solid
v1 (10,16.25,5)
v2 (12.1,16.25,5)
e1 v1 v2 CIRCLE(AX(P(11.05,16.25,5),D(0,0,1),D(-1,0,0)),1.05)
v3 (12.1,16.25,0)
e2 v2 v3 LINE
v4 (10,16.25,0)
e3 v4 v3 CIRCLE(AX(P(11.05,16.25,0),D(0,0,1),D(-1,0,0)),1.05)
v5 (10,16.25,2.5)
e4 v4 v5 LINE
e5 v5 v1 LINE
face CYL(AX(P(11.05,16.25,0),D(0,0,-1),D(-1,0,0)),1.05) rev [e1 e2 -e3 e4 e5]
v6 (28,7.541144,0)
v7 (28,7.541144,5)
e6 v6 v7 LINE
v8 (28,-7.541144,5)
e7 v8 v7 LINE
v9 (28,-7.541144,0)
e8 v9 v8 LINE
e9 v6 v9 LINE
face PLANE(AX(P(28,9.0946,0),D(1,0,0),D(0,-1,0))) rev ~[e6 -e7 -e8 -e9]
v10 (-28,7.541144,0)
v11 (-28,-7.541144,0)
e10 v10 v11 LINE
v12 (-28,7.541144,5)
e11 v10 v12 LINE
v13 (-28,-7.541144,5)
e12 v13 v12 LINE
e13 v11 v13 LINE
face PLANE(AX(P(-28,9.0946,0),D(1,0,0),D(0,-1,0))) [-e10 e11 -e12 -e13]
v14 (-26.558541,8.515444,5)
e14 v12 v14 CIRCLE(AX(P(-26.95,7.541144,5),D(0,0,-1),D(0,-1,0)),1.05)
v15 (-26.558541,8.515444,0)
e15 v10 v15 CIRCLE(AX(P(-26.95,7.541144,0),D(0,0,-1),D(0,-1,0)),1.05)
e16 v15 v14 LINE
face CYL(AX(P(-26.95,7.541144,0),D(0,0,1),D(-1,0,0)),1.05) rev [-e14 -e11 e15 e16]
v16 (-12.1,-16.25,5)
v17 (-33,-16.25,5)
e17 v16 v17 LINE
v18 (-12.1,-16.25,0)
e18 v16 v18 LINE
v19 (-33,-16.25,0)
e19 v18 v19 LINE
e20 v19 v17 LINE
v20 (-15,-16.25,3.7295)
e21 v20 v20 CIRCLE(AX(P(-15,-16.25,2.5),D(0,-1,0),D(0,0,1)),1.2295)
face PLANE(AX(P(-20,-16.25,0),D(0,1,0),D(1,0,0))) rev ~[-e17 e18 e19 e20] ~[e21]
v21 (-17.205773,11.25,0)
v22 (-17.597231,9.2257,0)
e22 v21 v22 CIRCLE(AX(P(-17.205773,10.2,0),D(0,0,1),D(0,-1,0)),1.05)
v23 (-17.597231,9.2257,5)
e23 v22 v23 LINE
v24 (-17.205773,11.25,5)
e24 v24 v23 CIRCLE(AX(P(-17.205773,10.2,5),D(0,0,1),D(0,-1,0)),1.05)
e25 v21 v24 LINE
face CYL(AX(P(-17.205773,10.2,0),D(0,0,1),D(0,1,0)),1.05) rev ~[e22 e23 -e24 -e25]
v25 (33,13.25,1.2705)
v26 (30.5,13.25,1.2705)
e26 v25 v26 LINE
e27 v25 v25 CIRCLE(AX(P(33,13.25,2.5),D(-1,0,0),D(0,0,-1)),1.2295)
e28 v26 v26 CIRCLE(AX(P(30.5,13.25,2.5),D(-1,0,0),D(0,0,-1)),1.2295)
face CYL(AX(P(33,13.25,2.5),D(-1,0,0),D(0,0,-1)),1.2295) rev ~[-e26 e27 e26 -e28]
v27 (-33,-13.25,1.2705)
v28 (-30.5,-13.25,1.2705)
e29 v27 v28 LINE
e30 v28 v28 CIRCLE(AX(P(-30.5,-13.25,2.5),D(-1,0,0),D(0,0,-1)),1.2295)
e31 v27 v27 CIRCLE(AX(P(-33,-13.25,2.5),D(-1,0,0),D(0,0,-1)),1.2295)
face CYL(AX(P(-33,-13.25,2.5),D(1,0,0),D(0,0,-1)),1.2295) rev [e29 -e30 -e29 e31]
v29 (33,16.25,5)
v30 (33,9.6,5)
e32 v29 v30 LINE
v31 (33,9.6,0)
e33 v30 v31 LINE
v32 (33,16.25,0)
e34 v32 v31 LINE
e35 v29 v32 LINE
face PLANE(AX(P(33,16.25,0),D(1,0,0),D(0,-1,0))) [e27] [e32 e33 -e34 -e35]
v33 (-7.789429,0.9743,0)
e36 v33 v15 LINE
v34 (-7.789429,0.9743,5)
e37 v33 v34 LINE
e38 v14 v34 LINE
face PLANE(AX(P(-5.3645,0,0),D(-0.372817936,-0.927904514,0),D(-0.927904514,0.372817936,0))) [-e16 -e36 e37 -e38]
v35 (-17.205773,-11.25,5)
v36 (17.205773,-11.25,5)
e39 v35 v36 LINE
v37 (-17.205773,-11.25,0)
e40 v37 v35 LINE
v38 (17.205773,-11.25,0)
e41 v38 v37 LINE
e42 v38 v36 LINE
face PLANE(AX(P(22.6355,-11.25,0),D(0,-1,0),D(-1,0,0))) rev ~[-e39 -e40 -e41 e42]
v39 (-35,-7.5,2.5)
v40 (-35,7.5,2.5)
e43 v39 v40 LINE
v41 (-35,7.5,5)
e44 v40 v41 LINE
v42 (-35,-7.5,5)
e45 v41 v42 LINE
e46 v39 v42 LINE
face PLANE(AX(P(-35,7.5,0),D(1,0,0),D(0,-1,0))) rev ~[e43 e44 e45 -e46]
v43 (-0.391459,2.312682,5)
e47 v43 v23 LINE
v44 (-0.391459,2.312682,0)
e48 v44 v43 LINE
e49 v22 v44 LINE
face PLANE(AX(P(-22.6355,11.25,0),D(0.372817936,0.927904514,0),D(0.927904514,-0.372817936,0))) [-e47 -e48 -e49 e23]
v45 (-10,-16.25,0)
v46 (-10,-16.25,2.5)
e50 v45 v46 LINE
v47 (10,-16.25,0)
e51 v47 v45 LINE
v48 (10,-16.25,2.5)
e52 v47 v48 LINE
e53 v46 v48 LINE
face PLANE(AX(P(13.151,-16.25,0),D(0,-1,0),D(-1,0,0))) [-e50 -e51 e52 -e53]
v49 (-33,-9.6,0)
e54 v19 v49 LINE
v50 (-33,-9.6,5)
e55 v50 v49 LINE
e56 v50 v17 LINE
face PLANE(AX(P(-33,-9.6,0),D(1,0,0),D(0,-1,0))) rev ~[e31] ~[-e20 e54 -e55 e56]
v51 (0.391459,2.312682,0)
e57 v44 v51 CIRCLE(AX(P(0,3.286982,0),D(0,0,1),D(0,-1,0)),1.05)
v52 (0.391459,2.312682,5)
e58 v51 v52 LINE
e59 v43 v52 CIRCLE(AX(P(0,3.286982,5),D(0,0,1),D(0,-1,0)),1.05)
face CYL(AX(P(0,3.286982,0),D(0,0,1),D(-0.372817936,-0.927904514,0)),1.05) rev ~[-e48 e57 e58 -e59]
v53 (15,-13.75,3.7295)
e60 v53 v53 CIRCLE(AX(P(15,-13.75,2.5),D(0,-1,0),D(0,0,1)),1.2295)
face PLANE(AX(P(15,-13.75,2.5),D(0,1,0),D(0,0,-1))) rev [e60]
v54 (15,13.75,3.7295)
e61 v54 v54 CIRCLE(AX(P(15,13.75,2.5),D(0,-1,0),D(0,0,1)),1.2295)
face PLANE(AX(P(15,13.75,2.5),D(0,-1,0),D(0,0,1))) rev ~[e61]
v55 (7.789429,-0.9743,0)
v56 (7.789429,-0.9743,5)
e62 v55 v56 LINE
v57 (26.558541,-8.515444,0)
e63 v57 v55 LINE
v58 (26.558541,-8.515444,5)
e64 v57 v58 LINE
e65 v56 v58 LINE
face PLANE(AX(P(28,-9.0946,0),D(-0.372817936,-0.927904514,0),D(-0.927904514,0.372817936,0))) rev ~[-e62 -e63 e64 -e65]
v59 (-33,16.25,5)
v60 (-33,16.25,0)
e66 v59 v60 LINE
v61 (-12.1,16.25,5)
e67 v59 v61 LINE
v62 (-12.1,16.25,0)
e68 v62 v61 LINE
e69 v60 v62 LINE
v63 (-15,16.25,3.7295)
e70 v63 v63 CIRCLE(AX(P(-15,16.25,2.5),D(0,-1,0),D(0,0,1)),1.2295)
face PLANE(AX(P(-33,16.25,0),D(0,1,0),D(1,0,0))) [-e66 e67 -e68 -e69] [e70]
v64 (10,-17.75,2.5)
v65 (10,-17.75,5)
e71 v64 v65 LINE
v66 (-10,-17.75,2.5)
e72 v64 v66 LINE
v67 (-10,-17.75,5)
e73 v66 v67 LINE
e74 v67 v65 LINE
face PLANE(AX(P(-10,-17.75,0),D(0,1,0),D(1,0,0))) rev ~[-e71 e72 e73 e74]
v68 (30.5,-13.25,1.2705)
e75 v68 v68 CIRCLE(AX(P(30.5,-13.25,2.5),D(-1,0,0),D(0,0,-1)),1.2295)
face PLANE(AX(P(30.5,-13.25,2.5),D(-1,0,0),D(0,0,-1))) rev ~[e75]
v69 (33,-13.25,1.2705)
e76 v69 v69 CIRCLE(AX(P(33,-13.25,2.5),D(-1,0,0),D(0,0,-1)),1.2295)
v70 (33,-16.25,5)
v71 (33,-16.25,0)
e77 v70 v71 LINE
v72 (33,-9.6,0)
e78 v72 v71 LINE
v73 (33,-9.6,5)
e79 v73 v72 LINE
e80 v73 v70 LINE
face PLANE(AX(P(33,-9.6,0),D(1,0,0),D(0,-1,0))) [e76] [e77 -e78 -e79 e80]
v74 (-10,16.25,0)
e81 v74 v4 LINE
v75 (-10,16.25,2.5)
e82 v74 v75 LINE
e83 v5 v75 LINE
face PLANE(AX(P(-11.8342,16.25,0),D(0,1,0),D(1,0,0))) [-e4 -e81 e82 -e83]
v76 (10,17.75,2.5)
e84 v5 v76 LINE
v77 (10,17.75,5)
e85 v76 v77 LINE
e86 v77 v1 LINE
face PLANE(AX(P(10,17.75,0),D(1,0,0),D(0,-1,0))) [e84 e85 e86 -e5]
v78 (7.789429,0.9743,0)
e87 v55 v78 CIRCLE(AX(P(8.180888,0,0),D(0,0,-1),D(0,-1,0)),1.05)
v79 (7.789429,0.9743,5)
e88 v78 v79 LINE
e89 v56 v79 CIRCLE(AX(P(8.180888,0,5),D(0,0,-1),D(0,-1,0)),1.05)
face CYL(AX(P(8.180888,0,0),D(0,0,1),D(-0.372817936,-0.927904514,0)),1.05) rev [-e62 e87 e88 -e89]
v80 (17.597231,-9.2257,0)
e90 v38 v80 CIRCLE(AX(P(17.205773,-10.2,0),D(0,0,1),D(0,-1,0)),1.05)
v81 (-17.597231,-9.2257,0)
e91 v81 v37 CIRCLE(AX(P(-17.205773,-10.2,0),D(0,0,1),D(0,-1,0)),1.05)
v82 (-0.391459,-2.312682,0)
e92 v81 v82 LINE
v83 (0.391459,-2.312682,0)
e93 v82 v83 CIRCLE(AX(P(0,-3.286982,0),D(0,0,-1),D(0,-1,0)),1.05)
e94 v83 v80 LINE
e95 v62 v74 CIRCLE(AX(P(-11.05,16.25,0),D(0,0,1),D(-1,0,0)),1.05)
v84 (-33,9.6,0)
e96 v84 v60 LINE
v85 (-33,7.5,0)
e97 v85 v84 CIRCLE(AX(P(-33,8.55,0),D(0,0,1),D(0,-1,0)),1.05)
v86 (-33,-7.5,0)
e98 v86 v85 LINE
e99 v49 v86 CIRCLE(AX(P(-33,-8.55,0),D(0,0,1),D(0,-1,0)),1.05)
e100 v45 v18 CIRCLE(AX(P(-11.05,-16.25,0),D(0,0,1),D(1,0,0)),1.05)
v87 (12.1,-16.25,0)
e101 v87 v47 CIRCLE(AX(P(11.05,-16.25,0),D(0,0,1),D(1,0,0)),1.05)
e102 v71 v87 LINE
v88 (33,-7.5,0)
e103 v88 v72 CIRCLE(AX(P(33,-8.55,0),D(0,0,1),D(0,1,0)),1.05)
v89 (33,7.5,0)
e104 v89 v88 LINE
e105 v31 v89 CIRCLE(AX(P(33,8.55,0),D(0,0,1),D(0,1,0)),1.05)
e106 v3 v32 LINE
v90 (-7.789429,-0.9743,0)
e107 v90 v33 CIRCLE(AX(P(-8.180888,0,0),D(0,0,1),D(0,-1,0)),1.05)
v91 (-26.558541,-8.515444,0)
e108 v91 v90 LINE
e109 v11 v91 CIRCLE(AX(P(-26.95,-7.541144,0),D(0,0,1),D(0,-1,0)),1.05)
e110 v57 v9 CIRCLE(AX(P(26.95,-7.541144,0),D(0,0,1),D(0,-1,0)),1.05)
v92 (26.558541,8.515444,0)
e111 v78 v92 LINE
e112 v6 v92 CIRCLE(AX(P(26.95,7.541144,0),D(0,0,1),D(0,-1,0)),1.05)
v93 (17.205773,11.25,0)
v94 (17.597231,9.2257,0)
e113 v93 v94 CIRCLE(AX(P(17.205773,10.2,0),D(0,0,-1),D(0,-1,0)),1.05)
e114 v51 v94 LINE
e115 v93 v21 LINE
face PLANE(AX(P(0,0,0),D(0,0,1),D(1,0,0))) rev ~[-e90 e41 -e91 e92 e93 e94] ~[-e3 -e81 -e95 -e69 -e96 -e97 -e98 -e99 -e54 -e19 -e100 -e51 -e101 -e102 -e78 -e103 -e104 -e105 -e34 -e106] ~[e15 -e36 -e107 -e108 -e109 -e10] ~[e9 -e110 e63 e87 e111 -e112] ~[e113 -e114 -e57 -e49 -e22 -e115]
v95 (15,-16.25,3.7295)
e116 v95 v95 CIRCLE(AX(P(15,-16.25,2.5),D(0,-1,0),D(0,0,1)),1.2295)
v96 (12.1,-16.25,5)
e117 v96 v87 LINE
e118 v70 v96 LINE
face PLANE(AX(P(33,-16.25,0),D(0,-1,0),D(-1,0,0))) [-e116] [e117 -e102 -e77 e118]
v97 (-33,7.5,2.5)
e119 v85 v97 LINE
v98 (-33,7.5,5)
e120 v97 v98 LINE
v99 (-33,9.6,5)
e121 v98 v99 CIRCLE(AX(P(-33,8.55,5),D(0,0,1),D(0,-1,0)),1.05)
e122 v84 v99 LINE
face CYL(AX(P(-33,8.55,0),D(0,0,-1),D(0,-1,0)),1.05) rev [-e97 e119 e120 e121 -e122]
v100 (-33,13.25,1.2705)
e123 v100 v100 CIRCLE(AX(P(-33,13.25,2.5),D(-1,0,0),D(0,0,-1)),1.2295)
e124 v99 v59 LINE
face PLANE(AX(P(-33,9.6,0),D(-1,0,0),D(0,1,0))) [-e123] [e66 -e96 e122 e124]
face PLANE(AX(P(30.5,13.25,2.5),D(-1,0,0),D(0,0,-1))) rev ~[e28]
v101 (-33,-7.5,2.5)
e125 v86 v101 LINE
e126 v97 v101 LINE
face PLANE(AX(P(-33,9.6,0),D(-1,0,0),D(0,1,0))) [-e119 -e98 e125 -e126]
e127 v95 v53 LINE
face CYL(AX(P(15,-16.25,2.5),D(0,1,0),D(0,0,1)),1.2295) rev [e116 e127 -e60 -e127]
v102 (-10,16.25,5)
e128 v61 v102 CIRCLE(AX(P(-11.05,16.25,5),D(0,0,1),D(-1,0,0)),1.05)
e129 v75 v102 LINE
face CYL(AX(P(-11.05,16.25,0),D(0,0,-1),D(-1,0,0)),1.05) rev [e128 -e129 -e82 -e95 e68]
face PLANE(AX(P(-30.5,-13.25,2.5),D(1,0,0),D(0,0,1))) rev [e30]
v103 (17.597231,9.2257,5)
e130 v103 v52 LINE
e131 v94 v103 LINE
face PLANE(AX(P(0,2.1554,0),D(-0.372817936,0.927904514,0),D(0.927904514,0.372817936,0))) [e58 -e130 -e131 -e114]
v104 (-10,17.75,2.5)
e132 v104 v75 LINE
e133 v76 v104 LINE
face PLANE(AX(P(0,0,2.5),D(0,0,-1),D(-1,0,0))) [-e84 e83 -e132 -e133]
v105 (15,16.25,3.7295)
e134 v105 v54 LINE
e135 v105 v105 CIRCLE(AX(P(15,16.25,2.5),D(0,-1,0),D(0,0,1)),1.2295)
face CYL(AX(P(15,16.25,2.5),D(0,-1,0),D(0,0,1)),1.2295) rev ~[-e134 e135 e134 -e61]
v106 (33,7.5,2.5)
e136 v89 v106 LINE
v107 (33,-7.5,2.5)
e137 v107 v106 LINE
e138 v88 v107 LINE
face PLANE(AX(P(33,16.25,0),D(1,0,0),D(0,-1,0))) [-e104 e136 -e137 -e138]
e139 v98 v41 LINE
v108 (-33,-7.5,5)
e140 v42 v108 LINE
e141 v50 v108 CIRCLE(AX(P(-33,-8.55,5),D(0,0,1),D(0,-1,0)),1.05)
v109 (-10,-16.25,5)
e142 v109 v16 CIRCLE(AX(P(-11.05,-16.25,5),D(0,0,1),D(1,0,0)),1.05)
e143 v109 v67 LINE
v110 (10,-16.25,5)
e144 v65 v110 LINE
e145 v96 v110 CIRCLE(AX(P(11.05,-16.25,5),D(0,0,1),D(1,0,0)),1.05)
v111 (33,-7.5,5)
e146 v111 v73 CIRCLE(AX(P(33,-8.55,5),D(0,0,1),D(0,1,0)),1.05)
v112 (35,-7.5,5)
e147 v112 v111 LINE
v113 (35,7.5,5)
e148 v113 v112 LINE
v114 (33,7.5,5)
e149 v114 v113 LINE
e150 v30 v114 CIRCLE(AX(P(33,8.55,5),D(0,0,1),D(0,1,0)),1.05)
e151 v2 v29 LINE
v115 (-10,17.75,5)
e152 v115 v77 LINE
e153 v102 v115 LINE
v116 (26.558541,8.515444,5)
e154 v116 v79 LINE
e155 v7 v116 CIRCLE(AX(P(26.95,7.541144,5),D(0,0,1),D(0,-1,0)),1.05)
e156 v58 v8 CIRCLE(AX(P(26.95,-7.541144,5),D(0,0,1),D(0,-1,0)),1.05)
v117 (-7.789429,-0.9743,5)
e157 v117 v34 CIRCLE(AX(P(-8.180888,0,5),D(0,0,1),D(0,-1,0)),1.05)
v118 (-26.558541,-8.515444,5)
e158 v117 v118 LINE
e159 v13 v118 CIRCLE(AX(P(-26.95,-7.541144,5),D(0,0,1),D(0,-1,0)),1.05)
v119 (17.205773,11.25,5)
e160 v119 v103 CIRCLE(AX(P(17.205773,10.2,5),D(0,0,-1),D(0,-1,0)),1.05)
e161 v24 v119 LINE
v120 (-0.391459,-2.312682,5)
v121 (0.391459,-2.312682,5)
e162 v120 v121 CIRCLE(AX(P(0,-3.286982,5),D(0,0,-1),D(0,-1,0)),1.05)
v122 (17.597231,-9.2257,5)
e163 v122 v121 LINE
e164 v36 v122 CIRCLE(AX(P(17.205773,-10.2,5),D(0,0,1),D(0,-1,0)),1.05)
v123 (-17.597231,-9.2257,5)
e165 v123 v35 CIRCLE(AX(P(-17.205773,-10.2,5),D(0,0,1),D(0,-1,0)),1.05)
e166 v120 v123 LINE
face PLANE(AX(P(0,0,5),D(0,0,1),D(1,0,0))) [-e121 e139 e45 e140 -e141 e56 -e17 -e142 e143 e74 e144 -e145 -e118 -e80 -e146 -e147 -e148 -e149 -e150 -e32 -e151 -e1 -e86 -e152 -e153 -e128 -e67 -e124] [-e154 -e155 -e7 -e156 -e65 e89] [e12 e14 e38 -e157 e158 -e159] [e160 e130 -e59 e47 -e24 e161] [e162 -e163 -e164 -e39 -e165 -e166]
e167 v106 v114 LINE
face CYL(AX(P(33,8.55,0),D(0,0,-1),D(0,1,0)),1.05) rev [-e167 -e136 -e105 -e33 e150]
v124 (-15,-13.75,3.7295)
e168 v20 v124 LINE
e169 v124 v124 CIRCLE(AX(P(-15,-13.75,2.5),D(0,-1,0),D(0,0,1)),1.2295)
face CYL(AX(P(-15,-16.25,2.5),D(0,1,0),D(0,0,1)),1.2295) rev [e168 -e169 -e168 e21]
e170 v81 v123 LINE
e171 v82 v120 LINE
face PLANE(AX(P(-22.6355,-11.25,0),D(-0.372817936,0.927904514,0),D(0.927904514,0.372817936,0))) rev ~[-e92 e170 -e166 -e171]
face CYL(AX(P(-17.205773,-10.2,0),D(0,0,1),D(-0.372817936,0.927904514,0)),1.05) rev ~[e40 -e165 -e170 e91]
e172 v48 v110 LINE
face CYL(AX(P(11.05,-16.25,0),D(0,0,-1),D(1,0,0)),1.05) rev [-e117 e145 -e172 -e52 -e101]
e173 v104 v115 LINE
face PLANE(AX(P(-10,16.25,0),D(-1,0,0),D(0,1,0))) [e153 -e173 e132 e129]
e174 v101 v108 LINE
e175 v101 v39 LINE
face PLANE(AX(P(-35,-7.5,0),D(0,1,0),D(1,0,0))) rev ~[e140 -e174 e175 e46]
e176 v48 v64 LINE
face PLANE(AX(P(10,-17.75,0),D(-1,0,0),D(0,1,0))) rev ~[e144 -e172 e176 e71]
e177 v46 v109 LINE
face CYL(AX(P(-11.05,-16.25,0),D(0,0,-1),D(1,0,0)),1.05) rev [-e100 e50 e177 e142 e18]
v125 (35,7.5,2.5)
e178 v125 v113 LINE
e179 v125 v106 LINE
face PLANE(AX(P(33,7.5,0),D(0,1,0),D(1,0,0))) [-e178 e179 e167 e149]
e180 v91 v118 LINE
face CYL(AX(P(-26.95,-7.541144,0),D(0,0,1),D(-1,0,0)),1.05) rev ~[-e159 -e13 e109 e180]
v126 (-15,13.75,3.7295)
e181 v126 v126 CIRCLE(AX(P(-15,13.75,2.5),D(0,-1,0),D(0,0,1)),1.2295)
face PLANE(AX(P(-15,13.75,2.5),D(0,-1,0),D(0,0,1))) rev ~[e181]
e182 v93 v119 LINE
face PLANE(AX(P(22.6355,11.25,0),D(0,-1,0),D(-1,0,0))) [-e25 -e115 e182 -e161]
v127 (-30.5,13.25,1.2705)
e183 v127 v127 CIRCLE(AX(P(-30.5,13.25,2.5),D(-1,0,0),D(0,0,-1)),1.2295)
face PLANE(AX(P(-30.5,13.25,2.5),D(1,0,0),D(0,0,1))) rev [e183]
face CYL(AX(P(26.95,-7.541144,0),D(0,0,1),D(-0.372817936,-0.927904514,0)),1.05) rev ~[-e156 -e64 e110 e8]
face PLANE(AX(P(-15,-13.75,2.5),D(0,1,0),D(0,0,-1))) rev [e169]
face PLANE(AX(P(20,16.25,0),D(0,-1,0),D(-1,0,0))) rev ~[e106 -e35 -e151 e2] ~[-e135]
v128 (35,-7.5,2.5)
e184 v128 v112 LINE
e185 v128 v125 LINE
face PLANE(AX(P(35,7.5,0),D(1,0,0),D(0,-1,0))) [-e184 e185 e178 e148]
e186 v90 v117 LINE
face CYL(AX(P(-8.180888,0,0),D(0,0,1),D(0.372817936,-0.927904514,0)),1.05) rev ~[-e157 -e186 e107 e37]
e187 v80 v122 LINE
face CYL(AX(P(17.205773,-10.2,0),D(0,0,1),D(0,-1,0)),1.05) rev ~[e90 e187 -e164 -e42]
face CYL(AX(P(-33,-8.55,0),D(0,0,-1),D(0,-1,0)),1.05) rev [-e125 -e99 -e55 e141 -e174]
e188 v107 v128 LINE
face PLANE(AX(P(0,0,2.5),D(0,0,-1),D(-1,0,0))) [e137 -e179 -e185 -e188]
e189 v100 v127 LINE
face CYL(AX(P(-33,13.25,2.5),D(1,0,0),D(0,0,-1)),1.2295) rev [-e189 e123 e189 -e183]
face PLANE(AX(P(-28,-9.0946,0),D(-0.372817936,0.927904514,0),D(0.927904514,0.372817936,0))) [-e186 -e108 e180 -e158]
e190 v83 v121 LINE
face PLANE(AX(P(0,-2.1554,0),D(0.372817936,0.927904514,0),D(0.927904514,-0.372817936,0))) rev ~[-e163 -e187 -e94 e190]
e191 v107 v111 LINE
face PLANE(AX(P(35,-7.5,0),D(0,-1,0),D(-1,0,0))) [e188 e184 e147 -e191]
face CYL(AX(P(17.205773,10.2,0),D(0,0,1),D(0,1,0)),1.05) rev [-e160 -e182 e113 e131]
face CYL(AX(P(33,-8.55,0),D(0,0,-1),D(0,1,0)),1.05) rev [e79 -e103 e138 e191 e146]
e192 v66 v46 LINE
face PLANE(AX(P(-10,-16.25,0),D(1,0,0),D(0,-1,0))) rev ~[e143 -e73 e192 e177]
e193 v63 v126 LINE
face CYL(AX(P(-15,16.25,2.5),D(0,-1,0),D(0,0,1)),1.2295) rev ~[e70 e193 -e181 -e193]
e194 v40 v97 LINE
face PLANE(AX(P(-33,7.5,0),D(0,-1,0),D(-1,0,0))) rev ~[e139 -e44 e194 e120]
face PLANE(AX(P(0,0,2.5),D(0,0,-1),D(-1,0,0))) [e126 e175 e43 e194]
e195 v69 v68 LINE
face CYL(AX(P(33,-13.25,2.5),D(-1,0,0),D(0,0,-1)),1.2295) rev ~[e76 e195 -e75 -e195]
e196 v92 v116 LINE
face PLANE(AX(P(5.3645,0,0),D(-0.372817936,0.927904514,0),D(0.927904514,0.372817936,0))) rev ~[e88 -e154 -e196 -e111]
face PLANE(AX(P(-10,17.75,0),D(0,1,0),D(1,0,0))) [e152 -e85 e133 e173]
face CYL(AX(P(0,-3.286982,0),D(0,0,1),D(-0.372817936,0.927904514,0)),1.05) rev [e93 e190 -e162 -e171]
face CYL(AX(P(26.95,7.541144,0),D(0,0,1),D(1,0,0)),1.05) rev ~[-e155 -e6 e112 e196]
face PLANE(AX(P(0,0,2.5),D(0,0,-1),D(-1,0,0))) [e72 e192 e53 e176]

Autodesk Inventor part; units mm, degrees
ref_plane "YZ Plane" through (0, 0, 0) normal (1, 0, 0) x (0, 1, 0)
ref_plane "XZ Plane" through (0, 0, 0) normal (0, 1, 0) x (-1, 0, 0)
ref_plane "XY Plane" through (0, 0, 0) normal (0, 0, 1) x (1, 0, 0)
sketch "スケッチ1" plane through (0, 0, 0) normal (0, 0, 1) x (1, 0, 0)
  line L0 (-33, 9.6) -> (-33, 16.25)
  line L1 (-33, 16.25) -> (-20, 16.25)
  line L2 (20, 16.25) -> (33, 16.25)
  line L3 (33, 16.25) -> (33, 9.6)
  line L4 (0, 0) -> (0, 16.25) construction
  line L5 (0, 0) -> (35, 0) construction
  line L6 (33, 7.5) -> (35, 7.5)
  line L7 (35, 7.5) -> (35, -7.5)
  line L8 (35, -7.5) -> (33, -7.5)
  line L9 (-20, -16.25) -> (20, -16.25) construction
  line L10 (20, -16.25) -> (20, 16.25) construction
  line L11 (20, 16.25) -> (-20, 16.25) construction
  line L12 (-20, 16.25) -> (-20, -16.25) construction
  line L13 (-20, -16.25) -> (20, 16.25) construction
  line L14 (20, -16.25) -> (-20, 16.25) construction
  line L15 (-33, -16.25) -> (33, -16.25) construction
  line L16 (33, -16.25) -> (33, 16.25) construction
  line L17 (33, 16.25) -> (-33, 16.25) construction
  line L18 (-33, 16.25) -> (-33, -16.25) construction
  line L19 (-33, -16.25) -> (33, 16.25) construction
  line L20 (33, -16.25) -> (-33, 16.25) construction
  arc A0 (33, 9.6) -> (33, 7.5) centre (33, 8.55) ccw
  arc A1 (33, -7.5) -> (33, -9.6) centre (33, -8.55) ccw
  line L21 (33, -9.6) -> (33, -16.25)
  line L22 (33, -16.25) -> (20, -16.25)
  line L23 (20, -16.25) -> (12.1, -16.25)
  line L24 (-20, 16.25) -> (-12.1, 16.25)
  line L25 (-10, 16.25) -> (-10, 17.75)
  line L26 (-10, 17.75) -> (10, 17.75)
  line L27 (10, 17.75) -> (10, 16.25)
  line L28 (20, 16.25) -> (12.1, 16.25)
  arc A2 (-12.1, 16.25) -> (-10, 16.25) centre (-11.05, 16.25) ccw
  arc A3 (10, 16.25) -> (12.1, 16.25) centre (11.05, 16.25) ccw
  line L29 (-33, 7.5) -> (-35, 7.5)
  line L30 (-35, 7.5) -> (-35, -7.5)
  line L31 (-35, -7.5) -> (-33, -7.5)
  arc A4 (-33, 7.5) -> (-33, 9.6) centre (-33, 8.55) ccw
  arc A5 (-33, -9.6) -> (-33, -7.5) centre (-33, -8.55) ccw
  line L32 (-33, -9.6) -> (-33, -16.25)
  line L33 (-33, -16.25) -> (-20, -16.25)
  line L34 (-20, -16.25) -> (-12.1, -16.25)
  line L35 (-10, -16.25) -> (-10, -17.75)
  line L36 (-10, -17.75) -> (10, -17.75)
  line L37 (10, -17.75) -> (10, -16.25)
  arc A6 (-10, -16.25) -> (-12.1, -16.25) centre (-11.05, -16.25) ccw
  arc A7 (12.1, -16.25) -> (10, -16.25) centre (11.05, -16.25) ccw
  line L38 (-16.55, 19.1799) -> (-13.45, 19.1799) construction
  line L39 (-13.45, 19.1799) -> (-13.45, 12.4242) construction
  line L40 (-13.45, 12.4242) -> (-16.55, 12.4242) construction
  line L41 (-16.55, 12.4242) -> (-16.55, 19.1799) construction
  line L42 (-15, 19.1799) -> (-15, 12.4242) construction
  point P0 (0, 17.75)
  point P1 (0, 0)
  dimension "d0" = 1.05
  dimension "d1" = 32.5
  dimension "d2" = 66
  dimension "d3" = 40
  dimension "d23" = 2
  dimension "d30" = 1.5
  dimension "d34" = 8.75
  dimension "d53" = 20
  dimension "d54" = 3.1
  dimension "d55" = 5
  dimension "d85" = 32.5
extrude "押し出し1" add sketch "スケッチ1" along normal blind 5
sketch "スケッチ2" plane through (0, 0, 0) normal (0, 0, -1) x (-1, 0, 0)
  line L0 (33, 9.6) -> (33, 16.25) projected
  line L1 (-33, 16.25) -> (-33, 9.6) projected
  line L2 (-41.1427, 17.3125) -> (-33, 17.3125)
  line L3 (-33, 17.3125) -> (-33, -16.751)
  line L4 (-33, -16.751) -> (-41.1427, -16.751)
  line L5 (-41.1427, -16.751) -> (-41.1427, 17.3125)
  line L6 (33, 21.1805) -> (38.858, 21.1805)
  line L7 (38.858, 21.1805) -> (38.858, -13.6193)
  line L8 (38.858, -13.6193) -> (33, -13.6193)
  line L9 (33, -13.6193) -> (33, 21.1805)
  line L10 (-20, -16.25) -> (-12.1, -16.25)
  line L11 (-17.1371, 25.1848) -> (11.8342, 25.1848)
  line L12 (11.8342, 25.1848) -> (11.8342, 16.25)
  line L13 (11.8342, 16.25) -> (-17.1371, 16.25)
  line L14 (-17.1371, 16.25) -> (-17.1371, 25.1848)
  line L15 (-13.151, -21.5857) -> (17.7795, -21.5857)
  line L16 (17.7795, -21.5857) -> (17.7795, -16.25)
  line L17 (17.7795, -16.25) -> (-13.151, -16.25)
  line L18 (-13.151, -16.25) -> (-13.151, -21.5857)
  line L19 (-12.1, 16.25) -> (-33, 16.25)
  line L20 (-33, -16.25) -> (-12.1, -16.25)
  point P0 (0, 0)
extrude "押し出し2" cut sketch "スケッチ2" against normal blind 2.5
sketch "スケッチ3" plane through (12.1, 16.25, 0) normal (0, 1, 0) x (1, 0, 0)
  line L0 (-2.1, 0) -> (-2.1, -5) projected
  line L1 (-2.1, -5) -> (-22.1, -5) construction
  line L2 (-12.1, -5) -> (-12.1, 7.4607) construction
  line L3 (20.9, 0) -> (20.9, -5) projected
  point P0 (-12.1, 0)
  point P1 (2.9, -2.5)
  point P2 (-27.1, -2.5)
  point P3 (20.9, -2.5)
  dimension "d60" = 5
hole "穴1" at (15, 16.25, 2.5) at (-15, 16.25, 2.5) direction (0, -1, 0) diameter 2.459 depth 2.5 thread size "M3x0.5" class "6H" standard "ISO Metric profile"
mirror "ミラー1" about plane through (0, 0, 0) normal (0, 1, 0) of "穴1"
sketch "スケッチ4" plane through (33, -16.25, 5) normal (1, 0, 0) x (0, 0, -1)
  line L0 (5, 16.25) -> (0, 16.25) construction
  line L1 (0, 23.75) -> (0, 8.75) construction
  line L2 (5, 6.65) -> (0, 6.65) projected
  line L3 (5, 0) -> (0, 0) projected
  point P0 (2.5, 3)
  point P1 (2.5, 29.5)
  point P2 (2.5, 6.65)
  dimension "d86" = 3
  dimension "d87" = 26.5
hole "穴2" at (33, -13.25, 2.5) at (33, 13.25, 2.5) direction (-1, 0, 0) diameter 2.459 depth 2.5 thread size "M3x0.5" class "6H" standard "ISO Metric profile"
mirror "ミラー2" about plane through (0, 0, 0) normal (1, 0, 0) of "穴2"
sketch "スケッチ5" plane through (0, 0, 0) normal (0, 0, -1) x (-1, 0, 0)
  line L0 (10, 16.25) -> (-10, 16.25) projected
  line L1 (-33, 7.5) -> (-33, 9.6) projected
  line L2 (-28, -11.25) -> (28, -11.25) construction
  line L3 (28, -11.25) -> (28, 11.25) construction
  line L4 (28, 11.25) -> (-28, 11.25) construction
  line L5 (-28, 11.25) -> (-28, -11.25) construction
  line L6 (-28, -11.25) -> (28, 11.25) construction
  line L7 (28, -11.25) -> (-28, 11.25) construction
  line L8 (-28, 9.0946) -> (-28, -9.0946)
  line L9 (-28, -9.0946) -> (-5.3645, 0)
  line L10 (-5.3645, 0) -> (-28, 9.0946)
  line L11 (-22.6355, 11.25) -> (22.6355, 11.25)
  line L12 (22.6355, 11.25) -> (0, 2.1554)
  line L13 (0, 2.1554) -> (-22.6355, 11.25)
  line L14 (-22.6355, -11.25) -> (22.6355, -11.25)
  line L15 (22.6355, -11.25) -> (0, -2.1554)
  line L16 (0, -2.1554) -> (-22.6355, -11.25)
  line L17 (28, 9.0946) -> (28, -9.0946)
  line L18 (28, -9.0946) -> (5.3645, 0)
  line L19 (5.3645, 0) -> (28, 9.0946)
  point P0 (-12.1, 16.25)
  point P1 (-20, 16.25)
  point P2 (-33, 16.25)
  point P3 (0, 0)
  dimension "d76" = 5
  dimension "d77" = 5
  dimension "d78" = 4
  dimension "d79" = 4
  dimension "d80" = 4
  dimension "d81" = 4
extrude "押し出し3" cut sketch "スケッチ5" against normal blind 10
fillet "フィレット1" radius 1.05 12 edges at (28, 9.0946, 2.5) (28, -9.0946, 2.5) (22.6355, 11.25, 2.5) (5.3645, 0, 2.5) (0, -2.1554, 2.5) (0, 2.1554, 2.5) (-28, -9.0946, 2.5) (22.6355, -11.25, 2.5) (-28, 9.0946, 2.5) (-22.6355, 11.25, 2.5) (-22.6355, -11.25, 2.5) (-5.3645, 0, 2.5)
equation "\"d85\" = d1"
equation "\"d60\" = d55"
equation "\"d77\" = d76"
equation "\"d79\" = d78"
equation "\"d80\" = d79"
equation "\"d81\" = d78"
equation "\"d52\" = 5"
properties part number "胴体_メインフレーム_1_13" material "アセタール樹脂、黒"
